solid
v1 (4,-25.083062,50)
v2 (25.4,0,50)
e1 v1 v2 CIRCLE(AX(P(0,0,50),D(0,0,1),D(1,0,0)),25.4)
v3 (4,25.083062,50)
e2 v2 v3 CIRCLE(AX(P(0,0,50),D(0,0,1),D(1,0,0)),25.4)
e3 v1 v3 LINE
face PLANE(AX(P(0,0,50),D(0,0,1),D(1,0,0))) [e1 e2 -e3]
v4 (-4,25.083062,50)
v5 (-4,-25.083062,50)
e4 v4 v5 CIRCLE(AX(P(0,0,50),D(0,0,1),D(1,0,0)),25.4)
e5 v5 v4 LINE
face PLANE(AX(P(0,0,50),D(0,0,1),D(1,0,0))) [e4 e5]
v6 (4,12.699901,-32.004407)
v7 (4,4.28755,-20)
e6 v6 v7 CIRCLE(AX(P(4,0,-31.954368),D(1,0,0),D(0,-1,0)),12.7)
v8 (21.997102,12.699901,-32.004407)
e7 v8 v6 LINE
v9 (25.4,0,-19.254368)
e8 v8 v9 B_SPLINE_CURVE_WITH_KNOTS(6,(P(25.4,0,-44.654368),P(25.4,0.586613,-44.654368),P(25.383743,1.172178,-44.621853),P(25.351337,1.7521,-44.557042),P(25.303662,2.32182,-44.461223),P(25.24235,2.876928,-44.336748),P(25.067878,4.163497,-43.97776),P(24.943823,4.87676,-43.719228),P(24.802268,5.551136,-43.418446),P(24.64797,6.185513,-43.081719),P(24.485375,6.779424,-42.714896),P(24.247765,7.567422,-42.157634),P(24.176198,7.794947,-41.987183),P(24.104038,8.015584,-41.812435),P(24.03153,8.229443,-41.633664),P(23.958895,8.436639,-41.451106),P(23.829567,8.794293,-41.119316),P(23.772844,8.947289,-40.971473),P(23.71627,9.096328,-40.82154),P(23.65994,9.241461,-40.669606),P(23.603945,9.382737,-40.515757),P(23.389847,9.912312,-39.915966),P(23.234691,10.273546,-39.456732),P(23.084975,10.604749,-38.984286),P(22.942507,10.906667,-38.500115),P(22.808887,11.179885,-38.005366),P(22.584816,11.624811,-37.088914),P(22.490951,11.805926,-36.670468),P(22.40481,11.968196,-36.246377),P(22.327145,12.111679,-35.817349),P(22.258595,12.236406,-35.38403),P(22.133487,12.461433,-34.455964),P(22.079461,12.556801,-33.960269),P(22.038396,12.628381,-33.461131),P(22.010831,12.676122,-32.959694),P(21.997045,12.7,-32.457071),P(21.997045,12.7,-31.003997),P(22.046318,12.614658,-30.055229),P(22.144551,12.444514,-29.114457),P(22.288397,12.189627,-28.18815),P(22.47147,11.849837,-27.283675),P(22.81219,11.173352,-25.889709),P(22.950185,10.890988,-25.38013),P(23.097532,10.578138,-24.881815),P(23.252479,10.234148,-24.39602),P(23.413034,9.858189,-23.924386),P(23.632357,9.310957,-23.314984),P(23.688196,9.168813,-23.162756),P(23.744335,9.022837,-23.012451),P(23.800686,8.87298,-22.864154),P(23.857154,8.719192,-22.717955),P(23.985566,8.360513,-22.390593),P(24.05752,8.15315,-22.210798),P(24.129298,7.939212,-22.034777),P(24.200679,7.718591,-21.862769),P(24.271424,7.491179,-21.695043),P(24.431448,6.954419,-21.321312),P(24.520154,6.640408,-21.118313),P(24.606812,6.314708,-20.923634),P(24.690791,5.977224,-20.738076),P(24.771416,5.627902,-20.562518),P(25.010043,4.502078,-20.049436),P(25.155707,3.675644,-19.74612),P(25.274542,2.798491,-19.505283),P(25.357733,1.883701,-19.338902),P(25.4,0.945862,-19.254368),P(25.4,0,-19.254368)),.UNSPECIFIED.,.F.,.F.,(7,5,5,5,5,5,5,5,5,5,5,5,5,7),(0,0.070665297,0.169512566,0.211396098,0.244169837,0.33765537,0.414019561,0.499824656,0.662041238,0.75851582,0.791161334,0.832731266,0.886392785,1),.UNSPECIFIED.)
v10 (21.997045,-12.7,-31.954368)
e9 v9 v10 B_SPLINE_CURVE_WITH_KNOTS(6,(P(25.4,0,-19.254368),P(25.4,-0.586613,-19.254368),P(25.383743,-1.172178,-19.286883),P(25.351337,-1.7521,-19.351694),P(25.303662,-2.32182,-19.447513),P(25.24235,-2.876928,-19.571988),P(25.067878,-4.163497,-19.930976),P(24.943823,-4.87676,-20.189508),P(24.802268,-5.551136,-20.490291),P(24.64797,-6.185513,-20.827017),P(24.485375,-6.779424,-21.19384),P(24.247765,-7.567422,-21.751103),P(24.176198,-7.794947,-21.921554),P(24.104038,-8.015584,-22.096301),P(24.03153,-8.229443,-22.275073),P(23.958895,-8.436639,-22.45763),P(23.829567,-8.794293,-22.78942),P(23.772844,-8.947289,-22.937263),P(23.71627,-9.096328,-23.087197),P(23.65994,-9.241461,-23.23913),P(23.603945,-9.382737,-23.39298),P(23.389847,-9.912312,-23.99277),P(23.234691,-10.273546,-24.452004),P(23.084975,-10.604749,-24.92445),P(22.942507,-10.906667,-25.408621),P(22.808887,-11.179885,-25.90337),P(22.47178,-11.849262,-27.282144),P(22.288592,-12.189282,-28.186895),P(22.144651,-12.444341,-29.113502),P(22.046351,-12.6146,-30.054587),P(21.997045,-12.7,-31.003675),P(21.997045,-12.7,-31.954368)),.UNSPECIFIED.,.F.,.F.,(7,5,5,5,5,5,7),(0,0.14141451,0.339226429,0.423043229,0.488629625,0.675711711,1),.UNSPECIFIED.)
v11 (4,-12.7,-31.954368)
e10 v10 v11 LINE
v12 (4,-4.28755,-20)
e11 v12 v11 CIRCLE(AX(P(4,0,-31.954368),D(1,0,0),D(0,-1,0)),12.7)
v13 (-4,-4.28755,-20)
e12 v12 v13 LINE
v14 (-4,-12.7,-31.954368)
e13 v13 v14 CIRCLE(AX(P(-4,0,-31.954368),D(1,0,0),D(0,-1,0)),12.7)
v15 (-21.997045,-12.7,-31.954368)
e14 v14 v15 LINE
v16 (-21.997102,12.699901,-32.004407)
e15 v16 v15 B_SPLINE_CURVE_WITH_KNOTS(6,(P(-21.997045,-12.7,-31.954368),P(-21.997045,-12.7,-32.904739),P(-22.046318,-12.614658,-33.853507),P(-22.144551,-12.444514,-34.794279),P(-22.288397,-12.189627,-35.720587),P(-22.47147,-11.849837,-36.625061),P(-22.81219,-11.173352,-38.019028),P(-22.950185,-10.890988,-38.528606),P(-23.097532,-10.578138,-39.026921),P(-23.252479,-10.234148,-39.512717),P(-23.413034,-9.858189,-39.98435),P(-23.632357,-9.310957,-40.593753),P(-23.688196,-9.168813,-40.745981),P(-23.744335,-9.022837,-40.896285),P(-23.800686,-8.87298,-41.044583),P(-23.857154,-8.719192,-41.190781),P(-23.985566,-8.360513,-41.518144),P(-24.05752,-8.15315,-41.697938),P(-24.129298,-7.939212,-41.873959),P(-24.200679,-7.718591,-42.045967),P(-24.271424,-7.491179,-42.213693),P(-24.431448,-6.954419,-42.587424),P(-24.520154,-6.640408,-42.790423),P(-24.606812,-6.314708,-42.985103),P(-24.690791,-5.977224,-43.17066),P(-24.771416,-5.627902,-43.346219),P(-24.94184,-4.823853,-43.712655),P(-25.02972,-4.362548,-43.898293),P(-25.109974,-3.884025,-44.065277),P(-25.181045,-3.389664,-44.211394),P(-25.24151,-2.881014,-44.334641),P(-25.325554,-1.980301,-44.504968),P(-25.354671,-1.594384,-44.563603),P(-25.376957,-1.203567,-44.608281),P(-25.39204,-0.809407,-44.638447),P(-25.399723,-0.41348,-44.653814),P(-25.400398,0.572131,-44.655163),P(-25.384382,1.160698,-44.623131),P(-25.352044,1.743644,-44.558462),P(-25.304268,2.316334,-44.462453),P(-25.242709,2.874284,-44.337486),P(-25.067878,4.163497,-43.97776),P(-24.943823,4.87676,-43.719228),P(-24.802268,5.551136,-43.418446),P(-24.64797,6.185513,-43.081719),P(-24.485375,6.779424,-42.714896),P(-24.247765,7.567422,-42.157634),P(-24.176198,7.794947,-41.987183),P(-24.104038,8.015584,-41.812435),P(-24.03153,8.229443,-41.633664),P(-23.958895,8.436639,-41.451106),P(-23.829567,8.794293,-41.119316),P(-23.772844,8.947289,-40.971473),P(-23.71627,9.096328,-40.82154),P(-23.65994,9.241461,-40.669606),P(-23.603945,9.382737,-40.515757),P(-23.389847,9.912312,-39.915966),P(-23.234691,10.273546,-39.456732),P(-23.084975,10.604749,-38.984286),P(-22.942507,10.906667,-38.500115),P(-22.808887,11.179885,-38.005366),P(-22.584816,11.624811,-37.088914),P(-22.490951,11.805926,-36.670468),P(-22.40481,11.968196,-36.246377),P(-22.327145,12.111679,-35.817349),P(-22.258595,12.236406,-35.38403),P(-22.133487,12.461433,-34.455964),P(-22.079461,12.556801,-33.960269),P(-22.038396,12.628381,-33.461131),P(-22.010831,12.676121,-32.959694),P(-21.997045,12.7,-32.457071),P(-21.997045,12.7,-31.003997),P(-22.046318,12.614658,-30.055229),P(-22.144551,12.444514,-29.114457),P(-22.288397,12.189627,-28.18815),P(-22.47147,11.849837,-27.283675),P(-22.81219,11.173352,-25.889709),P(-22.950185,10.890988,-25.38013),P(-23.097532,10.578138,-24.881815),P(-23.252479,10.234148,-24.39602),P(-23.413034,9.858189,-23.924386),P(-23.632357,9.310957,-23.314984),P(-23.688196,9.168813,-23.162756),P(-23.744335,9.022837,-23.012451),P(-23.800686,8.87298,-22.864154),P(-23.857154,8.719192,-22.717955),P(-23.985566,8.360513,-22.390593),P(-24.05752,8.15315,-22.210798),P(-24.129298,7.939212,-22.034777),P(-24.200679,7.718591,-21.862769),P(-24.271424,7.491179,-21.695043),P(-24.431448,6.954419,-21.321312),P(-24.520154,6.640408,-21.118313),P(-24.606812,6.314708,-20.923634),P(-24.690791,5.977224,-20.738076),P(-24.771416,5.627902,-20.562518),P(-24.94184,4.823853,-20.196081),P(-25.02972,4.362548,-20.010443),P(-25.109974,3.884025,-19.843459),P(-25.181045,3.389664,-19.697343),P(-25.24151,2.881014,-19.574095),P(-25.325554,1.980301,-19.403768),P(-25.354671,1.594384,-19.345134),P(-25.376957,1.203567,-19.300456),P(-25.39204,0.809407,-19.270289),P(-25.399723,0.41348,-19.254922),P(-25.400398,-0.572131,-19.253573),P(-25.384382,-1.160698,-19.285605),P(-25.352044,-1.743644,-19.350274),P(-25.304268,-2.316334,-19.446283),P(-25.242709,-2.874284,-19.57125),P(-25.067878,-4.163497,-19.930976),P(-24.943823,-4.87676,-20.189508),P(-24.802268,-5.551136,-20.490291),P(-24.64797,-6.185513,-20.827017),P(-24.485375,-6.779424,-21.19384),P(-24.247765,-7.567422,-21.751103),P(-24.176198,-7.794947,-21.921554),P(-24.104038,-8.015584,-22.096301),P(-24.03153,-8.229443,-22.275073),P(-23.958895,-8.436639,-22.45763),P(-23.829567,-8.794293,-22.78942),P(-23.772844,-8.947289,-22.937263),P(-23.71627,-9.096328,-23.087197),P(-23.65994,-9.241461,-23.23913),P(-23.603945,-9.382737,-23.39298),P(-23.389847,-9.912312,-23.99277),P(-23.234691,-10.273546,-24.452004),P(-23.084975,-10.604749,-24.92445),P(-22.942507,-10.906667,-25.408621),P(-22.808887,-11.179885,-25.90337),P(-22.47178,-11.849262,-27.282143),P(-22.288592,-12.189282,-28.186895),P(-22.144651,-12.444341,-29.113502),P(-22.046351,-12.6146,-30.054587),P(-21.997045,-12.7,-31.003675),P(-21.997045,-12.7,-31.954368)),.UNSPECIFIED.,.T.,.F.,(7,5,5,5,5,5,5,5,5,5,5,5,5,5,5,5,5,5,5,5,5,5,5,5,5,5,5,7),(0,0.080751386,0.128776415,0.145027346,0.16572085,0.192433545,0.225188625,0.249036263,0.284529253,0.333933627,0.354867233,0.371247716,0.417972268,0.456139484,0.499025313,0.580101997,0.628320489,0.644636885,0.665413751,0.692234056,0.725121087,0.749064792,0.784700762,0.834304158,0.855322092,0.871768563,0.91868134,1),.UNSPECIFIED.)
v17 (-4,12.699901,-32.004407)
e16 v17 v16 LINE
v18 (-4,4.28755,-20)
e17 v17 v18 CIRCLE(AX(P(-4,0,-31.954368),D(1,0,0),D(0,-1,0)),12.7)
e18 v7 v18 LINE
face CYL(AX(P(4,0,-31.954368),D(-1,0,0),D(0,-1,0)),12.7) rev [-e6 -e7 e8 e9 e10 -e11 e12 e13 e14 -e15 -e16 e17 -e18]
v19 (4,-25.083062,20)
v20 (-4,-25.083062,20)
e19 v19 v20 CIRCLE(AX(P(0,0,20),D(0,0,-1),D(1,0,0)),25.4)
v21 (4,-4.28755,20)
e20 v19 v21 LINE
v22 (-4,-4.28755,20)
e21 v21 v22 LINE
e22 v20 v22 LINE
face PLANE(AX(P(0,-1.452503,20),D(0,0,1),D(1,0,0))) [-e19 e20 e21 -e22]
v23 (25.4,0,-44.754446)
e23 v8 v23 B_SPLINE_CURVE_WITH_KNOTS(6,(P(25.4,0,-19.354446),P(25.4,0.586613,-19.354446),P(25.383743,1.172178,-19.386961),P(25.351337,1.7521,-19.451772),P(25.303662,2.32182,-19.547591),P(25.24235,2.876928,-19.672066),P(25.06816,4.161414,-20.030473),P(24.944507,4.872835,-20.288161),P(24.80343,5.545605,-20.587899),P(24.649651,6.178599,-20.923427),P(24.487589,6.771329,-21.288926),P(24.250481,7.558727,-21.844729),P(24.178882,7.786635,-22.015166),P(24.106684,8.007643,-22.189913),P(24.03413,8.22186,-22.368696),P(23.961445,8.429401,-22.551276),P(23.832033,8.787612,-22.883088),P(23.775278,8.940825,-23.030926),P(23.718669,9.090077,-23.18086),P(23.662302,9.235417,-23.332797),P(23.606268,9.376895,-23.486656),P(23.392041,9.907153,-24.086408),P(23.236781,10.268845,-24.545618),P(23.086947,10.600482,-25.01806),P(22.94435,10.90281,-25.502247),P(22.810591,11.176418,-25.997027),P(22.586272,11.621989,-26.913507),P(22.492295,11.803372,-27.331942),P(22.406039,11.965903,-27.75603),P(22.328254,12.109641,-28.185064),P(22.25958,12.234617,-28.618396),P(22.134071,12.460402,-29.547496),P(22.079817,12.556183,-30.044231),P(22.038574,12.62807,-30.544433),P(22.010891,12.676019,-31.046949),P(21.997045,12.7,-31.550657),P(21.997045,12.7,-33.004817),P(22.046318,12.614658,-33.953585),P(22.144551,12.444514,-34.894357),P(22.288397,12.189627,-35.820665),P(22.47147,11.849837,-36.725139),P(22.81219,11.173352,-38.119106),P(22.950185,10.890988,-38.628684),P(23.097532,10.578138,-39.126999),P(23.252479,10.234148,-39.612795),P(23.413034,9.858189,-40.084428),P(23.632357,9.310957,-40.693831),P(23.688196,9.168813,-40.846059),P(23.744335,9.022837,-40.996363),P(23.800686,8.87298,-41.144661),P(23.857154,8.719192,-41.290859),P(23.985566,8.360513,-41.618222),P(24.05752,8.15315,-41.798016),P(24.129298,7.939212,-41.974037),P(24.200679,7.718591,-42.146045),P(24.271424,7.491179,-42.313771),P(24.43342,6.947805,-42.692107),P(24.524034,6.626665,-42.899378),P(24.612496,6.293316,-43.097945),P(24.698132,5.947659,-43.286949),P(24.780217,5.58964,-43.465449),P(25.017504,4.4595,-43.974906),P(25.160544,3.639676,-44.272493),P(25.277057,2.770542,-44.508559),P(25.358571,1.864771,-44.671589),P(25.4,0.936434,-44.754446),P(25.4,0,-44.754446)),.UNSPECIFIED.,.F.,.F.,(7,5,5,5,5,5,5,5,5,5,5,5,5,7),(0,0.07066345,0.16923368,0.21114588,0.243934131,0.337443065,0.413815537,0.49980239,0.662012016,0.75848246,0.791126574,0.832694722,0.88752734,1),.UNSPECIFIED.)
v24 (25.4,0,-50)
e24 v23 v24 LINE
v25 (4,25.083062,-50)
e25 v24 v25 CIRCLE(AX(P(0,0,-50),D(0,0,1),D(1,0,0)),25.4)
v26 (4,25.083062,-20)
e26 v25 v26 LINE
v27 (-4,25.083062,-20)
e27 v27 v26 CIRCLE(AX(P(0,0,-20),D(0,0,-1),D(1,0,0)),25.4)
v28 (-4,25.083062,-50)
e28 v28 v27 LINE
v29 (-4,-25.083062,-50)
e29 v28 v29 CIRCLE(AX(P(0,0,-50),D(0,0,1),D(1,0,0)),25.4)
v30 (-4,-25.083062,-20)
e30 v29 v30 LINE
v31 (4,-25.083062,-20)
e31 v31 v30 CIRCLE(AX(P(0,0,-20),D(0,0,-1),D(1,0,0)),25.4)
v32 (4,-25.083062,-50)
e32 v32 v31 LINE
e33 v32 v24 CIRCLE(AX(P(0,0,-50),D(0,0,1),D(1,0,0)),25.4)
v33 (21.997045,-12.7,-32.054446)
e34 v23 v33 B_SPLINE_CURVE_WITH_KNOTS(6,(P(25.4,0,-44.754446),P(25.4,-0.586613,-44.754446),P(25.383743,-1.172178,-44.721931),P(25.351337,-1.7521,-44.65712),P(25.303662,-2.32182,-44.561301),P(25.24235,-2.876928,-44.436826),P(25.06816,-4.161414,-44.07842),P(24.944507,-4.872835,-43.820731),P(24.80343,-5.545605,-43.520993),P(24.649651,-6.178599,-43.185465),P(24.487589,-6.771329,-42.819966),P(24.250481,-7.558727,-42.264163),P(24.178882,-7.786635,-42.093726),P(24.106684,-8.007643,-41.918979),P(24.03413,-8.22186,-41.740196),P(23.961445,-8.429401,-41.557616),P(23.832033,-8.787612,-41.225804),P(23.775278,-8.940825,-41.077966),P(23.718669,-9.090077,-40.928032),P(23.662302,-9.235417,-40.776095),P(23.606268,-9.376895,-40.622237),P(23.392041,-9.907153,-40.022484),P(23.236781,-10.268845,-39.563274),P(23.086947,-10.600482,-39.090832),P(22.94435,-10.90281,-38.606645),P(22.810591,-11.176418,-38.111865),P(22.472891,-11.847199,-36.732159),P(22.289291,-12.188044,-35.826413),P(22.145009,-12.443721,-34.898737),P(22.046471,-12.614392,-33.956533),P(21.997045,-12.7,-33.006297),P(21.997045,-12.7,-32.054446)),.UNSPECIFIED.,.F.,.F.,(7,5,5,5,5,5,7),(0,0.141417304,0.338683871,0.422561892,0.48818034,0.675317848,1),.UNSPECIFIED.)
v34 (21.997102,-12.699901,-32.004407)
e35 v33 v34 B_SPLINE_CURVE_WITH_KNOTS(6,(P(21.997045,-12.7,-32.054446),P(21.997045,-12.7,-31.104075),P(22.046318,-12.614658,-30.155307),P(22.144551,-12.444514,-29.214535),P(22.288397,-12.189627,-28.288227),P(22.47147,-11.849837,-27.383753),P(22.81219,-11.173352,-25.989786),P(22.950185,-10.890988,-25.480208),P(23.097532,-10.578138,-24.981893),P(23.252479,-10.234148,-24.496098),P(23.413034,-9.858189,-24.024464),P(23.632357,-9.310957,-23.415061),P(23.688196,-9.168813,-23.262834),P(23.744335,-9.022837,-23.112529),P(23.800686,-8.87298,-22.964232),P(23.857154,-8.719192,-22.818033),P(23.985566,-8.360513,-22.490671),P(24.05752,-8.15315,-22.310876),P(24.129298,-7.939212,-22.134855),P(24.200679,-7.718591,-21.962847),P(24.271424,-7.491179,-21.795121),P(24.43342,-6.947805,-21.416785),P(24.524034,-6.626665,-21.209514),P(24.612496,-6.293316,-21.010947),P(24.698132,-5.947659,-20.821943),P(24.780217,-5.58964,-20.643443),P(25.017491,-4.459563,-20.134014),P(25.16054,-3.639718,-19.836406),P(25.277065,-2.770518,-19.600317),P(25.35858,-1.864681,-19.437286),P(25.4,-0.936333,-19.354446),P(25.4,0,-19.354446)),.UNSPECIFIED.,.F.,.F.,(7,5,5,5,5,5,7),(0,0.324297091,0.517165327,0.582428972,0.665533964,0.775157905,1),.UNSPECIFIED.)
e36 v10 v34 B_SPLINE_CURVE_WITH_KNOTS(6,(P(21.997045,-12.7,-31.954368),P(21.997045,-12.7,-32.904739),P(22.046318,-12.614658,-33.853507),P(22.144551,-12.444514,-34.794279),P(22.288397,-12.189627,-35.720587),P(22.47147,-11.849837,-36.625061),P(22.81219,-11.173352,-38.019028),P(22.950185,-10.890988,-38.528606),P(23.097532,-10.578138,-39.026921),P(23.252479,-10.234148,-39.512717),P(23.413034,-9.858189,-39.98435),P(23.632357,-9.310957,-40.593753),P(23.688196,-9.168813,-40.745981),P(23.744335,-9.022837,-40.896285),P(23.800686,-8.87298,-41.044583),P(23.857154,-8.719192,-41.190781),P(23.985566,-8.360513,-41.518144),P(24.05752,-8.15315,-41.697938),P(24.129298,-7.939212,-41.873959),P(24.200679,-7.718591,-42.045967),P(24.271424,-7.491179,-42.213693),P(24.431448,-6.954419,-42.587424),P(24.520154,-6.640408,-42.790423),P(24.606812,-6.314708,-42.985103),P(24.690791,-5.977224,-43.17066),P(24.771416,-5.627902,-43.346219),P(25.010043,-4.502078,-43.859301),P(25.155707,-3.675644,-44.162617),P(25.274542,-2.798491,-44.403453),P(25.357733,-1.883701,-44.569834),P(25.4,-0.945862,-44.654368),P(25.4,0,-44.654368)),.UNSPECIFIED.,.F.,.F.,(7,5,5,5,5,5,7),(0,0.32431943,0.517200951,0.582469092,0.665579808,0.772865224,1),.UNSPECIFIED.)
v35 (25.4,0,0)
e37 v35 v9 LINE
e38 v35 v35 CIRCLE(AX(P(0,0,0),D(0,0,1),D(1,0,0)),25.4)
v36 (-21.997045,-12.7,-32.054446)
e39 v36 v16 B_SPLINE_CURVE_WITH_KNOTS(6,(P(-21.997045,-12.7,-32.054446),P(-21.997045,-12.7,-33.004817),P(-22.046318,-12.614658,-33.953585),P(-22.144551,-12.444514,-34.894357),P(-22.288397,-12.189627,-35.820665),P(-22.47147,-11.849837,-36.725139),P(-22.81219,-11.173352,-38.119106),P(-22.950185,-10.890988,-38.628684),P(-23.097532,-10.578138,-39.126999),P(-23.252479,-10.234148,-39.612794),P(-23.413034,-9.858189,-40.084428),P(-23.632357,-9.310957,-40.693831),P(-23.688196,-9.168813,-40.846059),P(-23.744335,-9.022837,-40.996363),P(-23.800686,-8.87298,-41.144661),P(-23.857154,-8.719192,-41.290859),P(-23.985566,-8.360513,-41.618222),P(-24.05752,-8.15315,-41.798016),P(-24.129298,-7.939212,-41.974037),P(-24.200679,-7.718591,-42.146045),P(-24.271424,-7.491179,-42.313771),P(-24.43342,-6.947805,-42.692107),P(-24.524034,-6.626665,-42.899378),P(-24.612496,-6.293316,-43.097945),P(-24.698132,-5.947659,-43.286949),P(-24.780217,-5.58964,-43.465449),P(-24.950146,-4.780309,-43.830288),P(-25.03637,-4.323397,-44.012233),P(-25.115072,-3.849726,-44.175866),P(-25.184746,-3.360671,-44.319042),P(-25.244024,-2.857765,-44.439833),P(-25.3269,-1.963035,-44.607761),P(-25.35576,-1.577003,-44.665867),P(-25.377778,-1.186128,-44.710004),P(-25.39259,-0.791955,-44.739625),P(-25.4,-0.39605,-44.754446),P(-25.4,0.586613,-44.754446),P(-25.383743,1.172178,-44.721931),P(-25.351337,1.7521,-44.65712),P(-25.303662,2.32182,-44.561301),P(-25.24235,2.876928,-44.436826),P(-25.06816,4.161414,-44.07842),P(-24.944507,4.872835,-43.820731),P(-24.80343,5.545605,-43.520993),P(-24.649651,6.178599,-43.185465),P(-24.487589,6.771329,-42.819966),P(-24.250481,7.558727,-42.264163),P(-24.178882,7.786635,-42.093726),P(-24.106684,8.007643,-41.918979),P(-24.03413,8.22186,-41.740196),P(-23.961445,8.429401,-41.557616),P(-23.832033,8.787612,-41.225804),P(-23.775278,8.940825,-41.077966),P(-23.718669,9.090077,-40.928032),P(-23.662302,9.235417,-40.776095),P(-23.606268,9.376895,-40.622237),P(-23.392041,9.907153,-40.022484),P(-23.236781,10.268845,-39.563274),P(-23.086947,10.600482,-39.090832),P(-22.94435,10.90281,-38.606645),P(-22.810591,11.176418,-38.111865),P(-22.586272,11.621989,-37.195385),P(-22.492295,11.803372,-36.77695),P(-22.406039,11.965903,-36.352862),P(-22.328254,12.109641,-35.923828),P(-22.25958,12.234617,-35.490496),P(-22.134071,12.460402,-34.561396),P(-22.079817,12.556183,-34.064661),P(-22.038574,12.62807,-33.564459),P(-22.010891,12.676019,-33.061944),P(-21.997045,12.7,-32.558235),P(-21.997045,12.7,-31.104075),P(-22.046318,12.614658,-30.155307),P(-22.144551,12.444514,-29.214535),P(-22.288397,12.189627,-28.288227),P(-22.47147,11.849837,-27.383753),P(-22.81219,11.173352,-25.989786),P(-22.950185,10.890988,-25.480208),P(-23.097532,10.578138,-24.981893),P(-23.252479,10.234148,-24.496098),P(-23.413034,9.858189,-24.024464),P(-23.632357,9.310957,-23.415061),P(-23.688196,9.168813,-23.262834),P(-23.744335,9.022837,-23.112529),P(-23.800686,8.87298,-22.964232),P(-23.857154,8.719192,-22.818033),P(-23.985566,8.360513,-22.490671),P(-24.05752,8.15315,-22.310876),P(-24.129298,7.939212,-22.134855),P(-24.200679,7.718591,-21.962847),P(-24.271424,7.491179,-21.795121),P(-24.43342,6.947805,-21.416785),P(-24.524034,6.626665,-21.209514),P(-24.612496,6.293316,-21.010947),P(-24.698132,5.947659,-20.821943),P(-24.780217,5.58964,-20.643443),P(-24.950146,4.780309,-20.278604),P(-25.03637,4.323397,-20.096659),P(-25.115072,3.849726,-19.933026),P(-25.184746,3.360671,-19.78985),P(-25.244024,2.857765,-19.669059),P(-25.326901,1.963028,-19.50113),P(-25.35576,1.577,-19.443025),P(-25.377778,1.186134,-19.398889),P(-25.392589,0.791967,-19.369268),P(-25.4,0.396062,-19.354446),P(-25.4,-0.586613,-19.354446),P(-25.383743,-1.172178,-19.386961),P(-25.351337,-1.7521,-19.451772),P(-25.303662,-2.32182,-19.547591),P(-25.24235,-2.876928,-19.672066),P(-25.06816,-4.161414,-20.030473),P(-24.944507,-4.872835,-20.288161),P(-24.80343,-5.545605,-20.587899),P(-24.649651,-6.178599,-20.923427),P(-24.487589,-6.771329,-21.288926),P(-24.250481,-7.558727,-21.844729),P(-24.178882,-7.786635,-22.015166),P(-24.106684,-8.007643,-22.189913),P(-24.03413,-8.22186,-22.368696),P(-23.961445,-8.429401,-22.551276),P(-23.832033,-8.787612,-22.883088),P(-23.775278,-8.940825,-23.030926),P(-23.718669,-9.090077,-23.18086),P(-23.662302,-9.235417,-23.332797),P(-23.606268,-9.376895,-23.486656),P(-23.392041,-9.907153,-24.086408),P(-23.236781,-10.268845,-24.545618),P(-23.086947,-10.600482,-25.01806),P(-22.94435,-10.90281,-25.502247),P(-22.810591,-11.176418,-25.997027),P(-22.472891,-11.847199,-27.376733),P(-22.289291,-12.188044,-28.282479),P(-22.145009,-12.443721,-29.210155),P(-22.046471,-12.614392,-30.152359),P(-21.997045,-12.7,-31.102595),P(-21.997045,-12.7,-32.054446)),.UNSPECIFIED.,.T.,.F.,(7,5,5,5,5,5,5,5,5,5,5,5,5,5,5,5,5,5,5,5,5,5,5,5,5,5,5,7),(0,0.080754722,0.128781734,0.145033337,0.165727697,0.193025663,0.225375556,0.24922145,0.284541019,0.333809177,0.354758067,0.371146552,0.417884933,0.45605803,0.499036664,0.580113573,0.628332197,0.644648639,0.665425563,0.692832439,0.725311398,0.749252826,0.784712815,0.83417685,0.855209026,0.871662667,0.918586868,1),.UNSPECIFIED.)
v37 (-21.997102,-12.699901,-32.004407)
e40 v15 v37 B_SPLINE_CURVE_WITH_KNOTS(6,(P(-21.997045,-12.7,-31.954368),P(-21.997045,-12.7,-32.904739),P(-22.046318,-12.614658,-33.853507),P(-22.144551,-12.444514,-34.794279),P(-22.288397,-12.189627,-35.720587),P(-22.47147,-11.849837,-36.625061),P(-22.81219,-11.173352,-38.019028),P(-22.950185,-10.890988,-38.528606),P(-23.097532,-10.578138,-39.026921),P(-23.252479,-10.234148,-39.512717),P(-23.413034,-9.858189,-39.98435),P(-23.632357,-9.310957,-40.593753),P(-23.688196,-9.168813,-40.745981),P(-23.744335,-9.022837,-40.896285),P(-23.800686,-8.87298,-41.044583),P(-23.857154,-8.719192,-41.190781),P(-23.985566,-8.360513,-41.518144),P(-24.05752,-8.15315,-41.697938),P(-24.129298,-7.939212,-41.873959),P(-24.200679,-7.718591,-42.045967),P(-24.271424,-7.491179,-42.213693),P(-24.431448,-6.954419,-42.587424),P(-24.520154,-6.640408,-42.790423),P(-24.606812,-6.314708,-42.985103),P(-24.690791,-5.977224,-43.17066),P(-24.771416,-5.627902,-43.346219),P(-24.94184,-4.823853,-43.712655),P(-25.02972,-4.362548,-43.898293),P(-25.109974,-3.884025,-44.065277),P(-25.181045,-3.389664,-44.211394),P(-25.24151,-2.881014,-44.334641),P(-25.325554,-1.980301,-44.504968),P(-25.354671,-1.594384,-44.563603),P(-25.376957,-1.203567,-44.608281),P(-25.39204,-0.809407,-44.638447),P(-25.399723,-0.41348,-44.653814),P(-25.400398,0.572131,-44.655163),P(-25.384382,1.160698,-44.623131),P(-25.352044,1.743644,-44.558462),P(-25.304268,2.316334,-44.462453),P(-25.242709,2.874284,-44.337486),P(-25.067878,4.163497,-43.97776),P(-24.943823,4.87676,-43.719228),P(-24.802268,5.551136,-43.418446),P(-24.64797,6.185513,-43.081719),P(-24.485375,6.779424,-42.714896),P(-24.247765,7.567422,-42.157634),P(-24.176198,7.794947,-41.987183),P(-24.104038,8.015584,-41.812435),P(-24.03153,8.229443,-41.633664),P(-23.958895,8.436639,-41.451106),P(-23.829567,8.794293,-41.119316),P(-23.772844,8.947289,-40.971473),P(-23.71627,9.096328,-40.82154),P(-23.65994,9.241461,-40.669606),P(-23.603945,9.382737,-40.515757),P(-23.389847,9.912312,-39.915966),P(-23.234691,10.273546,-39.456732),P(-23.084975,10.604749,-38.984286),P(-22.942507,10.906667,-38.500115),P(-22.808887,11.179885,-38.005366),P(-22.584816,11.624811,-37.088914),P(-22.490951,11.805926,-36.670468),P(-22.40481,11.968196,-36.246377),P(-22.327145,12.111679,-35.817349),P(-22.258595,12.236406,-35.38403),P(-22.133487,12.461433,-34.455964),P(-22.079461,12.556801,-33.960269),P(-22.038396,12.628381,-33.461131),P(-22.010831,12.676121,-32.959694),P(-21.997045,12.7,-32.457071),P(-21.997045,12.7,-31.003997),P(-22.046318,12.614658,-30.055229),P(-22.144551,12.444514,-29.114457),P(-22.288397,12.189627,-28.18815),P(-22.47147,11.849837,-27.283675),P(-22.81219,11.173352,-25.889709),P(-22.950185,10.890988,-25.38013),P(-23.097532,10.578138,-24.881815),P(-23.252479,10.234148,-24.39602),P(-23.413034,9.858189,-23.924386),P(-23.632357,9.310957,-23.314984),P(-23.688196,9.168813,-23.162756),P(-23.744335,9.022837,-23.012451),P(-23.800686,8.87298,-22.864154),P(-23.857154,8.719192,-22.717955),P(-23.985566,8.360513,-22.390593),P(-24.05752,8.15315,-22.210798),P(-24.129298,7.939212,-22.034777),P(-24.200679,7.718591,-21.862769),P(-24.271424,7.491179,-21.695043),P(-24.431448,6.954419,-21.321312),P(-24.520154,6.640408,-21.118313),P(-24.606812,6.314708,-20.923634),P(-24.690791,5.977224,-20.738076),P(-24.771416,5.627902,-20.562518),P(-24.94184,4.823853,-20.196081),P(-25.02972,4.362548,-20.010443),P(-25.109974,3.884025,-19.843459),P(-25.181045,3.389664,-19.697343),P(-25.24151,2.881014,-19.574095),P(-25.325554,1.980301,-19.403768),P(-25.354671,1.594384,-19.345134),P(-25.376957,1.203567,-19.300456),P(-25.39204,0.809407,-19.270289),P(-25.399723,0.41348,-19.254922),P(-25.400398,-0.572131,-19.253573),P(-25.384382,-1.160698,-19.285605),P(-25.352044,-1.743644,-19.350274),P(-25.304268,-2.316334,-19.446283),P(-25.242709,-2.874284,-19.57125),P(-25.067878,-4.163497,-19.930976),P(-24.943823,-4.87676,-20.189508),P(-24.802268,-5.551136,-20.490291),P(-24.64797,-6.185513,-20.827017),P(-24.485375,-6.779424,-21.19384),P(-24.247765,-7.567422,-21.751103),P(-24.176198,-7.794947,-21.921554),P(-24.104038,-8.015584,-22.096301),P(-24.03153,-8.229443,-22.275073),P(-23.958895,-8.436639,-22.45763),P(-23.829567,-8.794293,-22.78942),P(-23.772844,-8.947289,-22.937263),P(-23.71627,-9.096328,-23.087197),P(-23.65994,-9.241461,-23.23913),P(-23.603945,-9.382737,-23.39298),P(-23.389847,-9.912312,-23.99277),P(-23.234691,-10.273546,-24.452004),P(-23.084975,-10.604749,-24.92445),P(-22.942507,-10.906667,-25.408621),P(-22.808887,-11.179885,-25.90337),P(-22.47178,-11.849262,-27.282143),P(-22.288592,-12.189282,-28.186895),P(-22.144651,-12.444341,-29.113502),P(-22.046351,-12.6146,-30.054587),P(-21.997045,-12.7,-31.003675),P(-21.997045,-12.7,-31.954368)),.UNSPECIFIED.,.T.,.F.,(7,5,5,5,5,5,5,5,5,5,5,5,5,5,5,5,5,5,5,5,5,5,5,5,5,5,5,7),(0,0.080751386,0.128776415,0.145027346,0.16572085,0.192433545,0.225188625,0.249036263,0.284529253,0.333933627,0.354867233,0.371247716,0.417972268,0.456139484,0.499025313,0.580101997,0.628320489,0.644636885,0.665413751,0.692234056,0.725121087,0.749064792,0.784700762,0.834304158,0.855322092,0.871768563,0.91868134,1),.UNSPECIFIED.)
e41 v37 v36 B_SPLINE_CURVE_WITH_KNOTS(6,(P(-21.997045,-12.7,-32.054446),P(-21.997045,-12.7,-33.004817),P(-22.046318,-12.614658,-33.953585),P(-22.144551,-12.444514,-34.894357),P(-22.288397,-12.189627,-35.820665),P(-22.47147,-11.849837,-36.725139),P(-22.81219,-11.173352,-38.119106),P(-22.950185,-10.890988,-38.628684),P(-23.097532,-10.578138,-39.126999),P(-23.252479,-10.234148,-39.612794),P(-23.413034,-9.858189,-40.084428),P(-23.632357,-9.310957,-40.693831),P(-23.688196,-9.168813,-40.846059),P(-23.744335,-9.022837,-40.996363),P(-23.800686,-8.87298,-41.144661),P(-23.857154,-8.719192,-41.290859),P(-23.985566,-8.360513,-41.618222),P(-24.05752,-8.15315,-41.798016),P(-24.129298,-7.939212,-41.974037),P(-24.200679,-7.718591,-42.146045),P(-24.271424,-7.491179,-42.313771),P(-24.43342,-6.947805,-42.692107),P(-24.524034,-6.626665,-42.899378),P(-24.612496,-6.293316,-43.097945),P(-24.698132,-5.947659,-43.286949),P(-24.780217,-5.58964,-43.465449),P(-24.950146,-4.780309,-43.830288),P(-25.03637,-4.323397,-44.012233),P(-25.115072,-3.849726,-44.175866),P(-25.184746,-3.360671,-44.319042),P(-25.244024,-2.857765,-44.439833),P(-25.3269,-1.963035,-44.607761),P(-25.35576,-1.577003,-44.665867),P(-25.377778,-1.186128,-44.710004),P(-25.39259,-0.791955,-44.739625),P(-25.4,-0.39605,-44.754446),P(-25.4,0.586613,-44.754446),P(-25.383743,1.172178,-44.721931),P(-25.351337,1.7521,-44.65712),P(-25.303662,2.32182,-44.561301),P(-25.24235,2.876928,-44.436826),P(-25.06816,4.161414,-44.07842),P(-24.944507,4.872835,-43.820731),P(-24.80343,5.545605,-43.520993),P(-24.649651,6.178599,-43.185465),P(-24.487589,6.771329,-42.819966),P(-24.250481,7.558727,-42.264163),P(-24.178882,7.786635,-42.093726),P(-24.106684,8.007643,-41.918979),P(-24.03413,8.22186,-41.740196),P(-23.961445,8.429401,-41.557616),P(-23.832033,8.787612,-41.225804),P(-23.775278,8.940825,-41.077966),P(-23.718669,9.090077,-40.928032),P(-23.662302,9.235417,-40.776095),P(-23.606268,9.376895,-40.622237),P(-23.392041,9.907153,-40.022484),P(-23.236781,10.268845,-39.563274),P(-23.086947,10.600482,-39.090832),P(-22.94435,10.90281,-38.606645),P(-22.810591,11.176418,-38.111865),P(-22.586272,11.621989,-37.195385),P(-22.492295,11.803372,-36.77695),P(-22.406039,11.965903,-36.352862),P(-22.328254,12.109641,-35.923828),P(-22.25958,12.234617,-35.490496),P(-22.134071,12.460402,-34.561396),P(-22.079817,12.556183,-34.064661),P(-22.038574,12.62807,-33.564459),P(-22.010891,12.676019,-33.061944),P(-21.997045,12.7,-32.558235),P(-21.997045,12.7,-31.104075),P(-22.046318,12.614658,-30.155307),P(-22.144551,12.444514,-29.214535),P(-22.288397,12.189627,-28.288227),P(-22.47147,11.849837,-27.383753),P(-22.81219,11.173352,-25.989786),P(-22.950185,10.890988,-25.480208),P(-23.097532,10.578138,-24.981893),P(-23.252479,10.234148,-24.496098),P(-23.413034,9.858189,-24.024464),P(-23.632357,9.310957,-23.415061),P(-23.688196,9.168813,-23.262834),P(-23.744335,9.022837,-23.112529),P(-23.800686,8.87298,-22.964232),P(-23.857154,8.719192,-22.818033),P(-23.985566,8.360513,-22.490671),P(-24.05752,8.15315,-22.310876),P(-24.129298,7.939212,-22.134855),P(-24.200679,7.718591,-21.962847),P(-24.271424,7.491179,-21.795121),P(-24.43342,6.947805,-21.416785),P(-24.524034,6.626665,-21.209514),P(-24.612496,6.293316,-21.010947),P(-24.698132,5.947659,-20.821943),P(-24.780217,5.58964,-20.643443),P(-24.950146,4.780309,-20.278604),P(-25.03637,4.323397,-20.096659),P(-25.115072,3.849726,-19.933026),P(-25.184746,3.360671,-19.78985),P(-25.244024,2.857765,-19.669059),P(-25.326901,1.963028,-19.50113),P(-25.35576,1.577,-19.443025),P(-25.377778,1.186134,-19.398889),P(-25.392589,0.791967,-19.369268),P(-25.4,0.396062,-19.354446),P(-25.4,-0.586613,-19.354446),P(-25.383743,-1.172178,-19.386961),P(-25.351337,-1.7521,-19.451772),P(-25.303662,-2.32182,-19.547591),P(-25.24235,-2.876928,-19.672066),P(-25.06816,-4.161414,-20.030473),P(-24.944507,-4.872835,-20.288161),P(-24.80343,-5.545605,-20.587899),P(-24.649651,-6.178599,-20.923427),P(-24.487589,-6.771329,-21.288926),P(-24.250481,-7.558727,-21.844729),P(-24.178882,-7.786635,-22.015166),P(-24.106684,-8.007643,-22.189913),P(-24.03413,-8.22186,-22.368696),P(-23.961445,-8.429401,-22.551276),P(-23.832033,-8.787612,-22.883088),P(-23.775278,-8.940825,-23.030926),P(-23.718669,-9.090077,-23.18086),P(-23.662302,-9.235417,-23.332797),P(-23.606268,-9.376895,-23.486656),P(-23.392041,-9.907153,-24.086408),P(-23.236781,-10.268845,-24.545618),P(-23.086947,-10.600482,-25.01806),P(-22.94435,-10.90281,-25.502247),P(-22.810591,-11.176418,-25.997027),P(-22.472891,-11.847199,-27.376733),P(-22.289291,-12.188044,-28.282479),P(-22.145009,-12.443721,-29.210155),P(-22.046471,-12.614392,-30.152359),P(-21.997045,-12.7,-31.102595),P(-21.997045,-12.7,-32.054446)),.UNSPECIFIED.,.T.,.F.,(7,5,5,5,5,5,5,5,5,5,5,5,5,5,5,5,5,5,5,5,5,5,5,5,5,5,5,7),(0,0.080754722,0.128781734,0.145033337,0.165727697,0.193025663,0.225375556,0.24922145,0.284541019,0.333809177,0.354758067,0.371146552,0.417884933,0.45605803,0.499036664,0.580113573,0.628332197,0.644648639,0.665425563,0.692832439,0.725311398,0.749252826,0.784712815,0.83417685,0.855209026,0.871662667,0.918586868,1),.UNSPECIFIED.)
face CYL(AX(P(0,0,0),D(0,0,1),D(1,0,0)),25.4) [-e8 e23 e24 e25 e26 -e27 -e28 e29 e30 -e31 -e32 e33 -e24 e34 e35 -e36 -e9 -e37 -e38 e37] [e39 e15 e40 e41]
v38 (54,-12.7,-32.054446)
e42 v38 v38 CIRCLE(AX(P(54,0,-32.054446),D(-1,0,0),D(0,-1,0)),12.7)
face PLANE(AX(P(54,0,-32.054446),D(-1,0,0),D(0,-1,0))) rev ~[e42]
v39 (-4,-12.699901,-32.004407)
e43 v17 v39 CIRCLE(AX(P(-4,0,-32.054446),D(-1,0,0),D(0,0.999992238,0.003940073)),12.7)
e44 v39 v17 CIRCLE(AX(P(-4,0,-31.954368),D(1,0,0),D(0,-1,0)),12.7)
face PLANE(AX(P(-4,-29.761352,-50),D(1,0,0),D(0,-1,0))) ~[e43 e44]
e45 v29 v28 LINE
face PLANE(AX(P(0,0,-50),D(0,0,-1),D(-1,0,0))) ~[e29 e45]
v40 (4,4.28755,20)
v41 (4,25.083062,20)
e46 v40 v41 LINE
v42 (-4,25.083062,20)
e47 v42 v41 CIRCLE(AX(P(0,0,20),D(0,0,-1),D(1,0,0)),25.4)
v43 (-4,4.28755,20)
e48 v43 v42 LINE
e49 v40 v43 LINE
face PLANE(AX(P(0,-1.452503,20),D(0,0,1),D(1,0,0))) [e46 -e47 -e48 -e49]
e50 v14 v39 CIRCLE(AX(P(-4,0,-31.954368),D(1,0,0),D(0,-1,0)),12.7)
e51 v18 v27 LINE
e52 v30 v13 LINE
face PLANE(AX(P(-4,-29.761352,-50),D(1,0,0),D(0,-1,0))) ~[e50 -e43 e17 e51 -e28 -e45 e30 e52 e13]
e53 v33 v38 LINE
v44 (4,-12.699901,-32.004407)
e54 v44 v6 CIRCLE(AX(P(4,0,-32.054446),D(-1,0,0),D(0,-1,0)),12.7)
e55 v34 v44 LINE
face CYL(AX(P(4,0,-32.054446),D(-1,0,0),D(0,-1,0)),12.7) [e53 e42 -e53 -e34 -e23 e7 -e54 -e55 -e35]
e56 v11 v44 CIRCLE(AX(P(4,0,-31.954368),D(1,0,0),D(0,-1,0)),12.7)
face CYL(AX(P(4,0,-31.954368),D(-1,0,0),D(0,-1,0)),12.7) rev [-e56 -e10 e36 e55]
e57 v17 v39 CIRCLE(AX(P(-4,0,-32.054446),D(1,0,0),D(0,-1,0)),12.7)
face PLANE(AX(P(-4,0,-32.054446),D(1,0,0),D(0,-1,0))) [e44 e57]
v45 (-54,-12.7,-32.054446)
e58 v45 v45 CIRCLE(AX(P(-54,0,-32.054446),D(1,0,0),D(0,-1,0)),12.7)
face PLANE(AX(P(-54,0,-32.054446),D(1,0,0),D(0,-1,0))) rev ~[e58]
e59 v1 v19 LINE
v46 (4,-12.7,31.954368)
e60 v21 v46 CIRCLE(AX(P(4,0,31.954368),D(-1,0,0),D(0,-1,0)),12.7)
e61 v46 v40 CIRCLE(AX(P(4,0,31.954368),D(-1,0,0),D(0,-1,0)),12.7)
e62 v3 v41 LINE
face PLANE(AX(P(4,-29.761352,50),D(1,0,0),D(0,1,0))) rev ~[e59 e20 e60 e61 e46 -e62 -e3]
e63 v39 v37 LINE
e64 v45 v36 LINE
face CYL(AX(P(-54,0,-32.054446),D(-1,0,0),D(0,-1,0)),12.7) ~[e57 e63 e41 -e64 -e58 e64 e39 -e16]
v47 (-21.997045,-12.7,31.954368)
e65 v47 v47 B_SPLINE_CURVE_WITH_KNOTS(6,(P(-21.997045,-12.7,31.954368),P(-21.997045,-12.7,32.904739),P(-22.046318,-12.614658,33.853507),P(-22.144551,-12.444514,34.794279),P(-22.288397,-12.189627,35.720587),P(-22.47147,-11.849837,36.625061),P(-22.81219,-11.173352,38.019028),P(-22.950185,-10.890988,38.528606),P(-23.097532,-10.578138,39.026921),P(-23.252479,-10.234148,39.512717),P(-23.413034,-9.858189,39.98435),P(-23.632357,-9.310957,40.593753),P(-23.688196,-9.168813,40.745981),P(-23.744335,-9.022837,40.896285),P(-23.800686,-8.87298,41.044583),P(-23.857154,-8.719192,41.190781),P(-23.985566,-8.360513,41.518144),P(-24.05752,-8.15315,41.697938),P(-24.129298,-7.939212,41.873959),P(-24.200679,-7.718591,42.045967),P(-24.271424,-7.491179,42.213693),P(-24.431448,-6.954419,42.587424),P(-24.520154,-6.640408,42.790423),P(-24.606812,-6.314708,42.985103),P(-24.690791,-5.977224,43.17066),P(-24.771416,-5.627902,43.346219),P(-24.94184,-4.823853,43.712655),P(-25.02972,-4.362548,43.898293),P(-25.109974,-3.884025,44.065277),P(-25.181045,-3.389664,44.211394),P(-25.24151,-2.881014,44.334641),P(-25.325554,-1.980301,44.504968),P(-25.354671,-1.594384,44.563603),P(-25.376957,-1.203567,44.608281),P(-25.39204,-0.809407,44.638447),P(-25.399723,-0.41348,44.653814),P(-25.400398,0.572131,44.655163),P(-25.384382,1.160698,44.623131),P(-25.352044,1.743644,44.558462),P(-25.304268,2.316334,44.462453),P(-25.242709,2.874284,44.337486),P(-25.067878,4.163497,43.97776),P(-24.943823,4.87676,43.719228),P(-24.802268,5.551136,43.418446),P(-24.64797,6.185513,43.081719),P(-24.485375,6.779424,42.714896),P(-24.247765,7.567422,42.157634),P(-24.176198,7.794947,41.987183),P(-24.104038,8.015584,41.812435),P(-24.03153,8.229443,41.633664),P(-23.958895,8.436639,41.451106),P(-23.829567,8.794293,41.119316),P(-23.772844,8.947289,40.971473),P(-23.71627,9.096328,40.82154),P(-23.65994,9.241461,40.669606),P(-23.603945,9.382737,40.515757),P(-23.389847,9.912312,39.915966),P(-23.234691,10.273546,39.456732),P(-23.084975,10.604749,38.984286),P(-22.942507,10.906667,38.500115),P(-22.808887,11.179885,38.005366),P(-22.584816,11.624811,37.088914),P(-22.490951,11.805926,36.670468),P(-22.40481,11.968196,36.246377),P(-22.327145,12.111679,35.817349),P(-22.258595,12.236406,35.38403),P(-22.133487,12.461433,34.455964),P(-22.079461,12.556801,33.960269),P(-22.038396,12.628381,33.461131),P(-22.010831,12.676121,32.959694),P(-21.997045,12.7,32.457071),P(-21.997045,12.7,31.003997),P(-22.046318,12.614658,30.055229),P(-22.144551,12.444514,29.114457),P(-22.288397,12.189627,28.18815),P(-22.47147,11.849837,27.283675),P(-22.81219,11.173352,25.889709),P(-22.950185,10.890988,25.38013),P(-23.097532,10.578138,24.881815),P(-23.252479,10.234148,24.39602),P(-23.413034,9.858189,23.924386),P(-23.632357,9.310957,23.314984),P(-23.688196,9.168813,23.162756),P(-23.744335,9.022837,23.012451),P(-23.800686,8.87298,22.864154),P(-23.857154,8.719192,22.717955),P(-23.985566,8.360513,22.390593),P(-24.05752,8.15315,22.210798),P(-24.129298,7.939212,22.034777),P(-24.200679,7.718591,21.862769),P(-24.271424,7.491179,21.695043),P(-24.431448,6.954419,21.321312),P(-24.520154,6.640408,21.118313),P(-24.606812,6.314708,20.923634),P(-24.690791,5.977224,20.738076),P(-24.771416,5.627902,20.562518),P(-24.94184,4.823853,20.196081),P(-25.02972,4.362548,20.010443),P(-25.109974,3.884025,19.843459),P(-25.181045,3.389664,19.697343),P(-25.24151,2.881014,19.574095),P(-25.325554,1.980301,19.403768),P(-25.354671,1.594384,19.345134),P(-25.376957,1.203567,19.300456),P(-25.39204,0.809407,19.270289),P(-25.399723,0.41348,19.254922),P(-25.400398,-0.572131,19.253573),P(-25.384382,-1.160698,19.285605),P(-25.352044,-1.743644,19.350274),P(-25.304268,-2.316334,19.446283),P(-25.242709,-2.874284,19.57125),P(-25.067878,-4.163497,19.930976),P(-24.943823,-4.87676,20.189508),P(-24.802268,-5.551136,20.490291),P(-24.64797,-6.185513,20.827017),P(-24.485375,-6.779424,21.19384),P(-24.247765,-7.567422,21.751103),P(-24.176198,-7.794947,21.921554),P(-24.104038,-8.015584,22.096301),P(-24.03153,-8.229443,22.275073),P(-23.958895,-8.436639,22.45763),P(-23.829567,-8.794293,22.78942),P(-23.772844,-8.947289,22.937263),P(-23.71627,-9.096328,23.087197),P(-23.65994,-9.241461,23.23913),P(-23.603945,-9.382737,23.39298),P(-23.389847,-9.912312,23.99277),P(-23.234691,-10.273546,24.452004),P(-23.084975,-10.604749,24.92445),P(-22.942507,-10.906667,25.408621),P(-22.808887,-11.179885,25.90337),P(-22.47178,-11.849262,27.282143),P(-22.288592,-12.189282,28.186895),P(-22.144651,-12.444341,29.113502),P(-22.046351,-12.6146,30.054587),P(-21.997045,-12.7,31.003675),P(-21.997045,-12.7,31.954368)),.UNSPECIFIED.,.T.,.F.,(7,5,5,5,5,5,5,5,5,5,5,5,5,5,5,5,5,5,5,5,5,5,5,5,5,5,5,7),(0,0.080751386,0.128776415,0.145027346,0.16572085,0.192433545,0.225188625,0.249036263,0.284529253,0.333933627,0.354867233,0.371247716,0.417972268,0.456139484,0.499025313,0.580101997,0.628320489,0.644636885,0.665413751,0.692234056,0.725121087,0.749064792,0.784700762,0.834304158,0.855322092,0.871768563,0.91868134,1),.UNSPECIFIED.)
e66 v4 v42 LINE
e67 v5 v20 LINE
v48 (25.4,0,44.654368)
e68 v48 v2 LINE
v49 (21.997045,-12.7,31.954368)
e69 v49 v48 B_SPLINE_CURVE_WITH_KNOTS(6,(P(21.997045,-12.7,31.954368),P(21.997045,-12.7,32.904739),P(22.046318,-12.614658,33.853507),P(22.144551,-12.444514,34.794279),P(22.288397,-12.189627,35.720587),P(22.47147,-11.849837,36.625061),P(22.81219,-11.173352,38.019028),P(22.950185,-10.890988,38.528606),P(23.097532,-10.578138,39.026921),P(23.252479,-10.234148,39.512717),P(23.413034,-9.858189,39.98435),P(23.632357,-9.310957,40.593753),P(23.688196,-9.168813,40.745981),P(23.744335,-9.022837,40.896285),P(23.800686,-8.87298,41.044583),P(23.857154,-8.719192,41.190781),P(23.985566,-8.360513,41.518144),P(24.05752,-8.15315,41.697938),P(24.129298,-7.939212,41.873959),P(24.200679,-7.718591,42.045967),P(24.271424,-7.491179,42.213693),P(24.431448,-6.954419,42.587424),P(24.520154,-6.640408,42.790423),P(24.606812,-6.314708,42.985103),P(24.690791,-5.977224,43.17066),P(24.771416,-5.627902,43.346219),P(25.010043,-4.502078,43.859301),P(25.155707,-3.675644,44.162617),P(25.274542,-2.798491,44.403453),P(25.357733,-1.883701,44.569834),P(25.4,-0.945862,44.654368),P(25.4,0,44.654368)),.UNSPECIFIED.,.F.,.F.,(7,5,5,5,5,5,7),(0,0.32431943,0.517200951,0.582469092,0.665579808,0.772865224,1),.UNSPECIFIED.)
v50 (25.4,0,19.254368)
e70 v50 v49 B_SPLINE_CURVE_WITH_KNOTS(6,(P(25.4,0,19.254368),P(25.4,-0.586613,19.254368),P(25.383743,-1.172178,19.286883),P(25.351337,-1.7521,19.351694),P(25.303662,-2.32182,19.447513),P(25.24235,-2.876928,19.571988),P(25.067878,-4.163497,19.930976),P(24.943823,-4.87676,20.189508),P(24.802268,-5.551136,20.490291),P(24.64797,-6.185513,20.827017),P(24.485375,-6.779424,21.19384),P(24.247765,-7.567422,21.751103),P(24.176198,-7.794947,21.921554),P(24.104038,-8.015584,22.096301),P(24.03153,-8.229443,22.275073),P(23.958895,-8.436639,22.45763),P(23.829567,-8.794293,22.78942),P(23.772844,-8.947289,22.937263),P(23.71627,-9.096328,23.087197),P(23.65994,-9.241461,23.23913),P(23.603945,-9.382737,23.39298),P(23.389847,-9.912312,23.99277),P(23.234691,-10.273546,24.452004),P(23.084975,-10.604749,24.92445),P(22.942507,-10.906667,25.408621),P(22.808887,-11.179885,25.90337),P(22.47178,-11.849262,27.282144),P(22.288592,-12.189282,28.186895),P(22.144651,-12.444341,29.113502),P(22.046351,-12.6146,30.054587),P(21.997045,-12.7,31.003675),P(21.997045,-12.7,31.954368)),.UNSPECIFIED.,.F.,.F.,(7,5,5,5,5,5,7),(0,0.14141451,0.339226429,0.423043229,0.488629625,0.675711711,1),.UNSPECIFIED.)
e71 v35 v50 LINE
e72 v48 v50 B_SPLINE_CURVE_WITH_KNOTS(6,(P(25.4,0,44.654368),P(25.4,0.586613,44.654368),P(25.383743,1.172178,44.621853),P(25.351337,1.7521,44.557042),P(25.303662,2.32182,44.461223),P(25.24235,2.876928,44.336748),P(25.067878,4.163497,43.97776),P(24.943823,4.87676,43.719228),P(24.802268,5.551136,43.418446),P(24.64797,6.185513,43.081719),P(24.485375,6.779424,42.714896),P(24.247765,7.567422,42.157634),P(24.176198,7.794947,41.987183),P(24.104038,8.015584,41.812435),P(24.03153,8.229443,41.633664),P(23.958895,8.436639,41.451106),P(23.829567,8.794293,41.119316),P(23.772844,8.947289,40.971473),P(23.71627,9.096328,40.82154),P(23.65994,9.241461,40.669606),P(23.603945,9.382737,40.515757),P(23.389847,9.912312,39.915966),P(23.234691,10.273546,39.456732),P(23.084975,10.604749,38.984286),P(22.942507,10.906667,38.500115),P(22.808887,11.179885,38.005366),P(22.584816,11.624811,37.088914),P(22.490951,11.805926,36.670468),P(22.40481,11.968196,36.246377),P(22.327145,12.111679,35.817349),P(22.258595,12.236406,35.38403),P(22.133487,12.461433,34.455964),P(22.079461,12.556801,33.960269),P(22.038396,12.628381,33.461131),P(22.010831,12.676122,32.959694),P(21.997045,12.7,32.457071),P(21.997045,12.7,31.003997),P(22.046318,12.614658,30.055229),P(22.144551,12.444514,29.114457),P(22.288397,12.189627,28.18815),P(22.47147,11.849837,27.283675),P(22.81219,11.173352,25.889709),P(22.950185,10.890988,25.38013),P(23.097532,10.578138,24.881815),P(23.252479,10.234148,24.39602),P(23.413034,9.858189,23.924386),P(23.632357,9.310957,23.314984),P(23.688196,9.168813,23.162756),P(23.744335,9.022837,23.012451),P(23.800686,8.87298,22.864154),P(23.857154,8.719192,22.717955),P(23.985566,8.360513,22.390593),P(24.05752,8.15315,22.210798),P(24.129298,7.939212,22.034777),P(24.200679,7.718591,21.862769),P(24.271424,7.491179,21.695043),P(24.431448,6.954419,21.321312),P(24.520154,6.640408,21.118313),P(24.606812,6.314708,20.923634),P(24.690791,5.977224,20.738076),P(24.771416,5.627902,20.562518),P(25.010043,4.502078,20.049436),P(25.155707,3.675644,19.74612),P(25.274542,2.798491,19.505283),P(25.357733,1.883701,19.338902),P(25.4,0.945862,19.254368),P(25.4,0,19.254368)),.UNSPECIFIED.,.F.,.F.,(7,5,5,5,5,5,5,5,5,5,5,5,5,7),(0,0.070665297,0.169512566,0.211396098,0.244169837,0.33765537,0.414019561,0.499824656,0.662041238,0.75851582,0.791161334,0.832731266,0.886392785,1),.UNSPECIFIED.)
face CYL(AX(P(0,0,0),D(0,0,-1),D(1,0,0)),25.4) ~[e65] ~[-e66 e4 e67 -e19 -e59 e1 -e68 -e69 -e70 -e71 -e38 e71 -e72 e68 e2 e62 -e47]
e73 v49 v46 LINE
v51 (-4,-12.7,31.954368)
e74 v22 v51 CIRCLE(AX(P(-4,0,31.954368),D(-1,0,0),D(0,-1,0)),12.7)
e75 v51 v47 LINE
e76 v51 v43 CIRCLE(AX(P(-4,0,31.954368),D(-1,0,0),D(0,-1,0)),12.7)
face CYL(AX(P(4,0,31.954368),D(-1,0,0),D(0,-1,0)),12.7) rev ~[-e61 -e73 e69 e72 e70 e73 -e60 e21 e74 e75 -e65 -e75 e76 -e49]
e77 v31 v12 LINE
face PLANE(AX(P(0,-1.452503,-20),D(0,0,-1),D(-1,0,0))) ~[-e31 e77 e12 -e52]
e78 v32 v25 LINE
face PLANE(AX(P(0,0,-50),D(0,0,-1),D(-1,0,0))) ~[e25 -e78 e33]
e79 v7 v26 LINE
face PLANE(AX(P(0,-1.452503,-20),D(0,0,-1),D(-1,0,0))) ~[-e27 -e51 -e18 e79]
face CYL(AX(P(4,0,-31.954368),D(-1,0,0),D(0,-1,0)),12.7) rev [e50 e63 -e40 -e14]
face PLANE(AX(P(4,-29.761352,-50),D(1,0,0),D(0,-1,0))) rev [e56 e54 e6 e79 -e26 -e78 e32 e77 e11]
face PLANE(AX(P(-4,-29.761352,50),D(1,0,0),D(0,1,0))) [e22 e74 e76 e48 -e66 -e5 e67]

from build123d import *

# Parameters (mm, degrees)
SKETCH1_R           = 25.4
BOSS_EXTRUDE1_DEPTH = 50
SKETCH2_W           = 8
SKETCH2_H           = 56.617696499
CUT_EXTRUDE1_DEPTH  = 30
SKETCH3_R           = 12.7
CUT_EXTRUDE2_DEPTH  = 35
SKETCH4_R           = 12.7
BOSS_EXTRUDE2_DEPTH = 50
BOSS_EXTRUDE3_START = -50
SKETCH5_R           = 12.7
BOSS_EXTRUDE3_DEPTH = 50


with BuildPart() as part:
    # Sketch1 → Boss-Extrude1 (new body)
    with BuildSketch(Plane.XY):
        Circle(SKETCH1_R)
    extrude(amount=BOSS_EXTRUDE1_DEPTH)

    # Sketch2 → Cut-Extrude1 (cut)
    with BuildSketch(Plane.XY.offset(50)):
        with Locations((0, -1.452503267)):
            Rectangle(SKETCH2_W, SKETCH2_H)
    extrude(amount=-CUT_EXTRUDE1_DEPTH, mode=Mode.SUBTRACT)

    # Sketch3 → Cut-Extrude2 (cut, symmetric)
    with BuildSketch(Plane.ZY.offset(-4)):
        with Locations(Location((31.954368174, 0, 0), (0, 0, 270))):
            Circle(SKETCH3_R)
    extrude(amount=CUT_EXTRUDE2_DEPTH, both=True, mode=Mode.SUBTRACT)

    # Mirror1: part across plane


with BuildPart() as part_1:
    add(part.part)
    add(part.part.mirror(Plane.XY))

    # Sketch4 → Boss-Extrude2 (add)
    with BuildSketch(Plane.ZY.offset(-4)):
        with Locations(Location((-32.054446032, 0, 0), (0, 0, 270))):
            Circle(SKETCH4_R)
    extrude(amount=-BOSS_EXTRUDE2_DEPTH)

    # Sketch5 → Boss-Extrude3 (add)
    with BuildSketch(Plane(origin=(-4, 0, 0), x_dir=(0, 0, -1), z_dir=(1, 0, 0)).offset(BOSS_EXTRUDE3_START)):
        with Locations(Location((32.054446032, 0, 0), (0, 0, 270))):
            Circle(SKETCH5_R)
    extrude(amount=BOSS_EXTRUDE3_DEPTH)


solid = part_1.part
